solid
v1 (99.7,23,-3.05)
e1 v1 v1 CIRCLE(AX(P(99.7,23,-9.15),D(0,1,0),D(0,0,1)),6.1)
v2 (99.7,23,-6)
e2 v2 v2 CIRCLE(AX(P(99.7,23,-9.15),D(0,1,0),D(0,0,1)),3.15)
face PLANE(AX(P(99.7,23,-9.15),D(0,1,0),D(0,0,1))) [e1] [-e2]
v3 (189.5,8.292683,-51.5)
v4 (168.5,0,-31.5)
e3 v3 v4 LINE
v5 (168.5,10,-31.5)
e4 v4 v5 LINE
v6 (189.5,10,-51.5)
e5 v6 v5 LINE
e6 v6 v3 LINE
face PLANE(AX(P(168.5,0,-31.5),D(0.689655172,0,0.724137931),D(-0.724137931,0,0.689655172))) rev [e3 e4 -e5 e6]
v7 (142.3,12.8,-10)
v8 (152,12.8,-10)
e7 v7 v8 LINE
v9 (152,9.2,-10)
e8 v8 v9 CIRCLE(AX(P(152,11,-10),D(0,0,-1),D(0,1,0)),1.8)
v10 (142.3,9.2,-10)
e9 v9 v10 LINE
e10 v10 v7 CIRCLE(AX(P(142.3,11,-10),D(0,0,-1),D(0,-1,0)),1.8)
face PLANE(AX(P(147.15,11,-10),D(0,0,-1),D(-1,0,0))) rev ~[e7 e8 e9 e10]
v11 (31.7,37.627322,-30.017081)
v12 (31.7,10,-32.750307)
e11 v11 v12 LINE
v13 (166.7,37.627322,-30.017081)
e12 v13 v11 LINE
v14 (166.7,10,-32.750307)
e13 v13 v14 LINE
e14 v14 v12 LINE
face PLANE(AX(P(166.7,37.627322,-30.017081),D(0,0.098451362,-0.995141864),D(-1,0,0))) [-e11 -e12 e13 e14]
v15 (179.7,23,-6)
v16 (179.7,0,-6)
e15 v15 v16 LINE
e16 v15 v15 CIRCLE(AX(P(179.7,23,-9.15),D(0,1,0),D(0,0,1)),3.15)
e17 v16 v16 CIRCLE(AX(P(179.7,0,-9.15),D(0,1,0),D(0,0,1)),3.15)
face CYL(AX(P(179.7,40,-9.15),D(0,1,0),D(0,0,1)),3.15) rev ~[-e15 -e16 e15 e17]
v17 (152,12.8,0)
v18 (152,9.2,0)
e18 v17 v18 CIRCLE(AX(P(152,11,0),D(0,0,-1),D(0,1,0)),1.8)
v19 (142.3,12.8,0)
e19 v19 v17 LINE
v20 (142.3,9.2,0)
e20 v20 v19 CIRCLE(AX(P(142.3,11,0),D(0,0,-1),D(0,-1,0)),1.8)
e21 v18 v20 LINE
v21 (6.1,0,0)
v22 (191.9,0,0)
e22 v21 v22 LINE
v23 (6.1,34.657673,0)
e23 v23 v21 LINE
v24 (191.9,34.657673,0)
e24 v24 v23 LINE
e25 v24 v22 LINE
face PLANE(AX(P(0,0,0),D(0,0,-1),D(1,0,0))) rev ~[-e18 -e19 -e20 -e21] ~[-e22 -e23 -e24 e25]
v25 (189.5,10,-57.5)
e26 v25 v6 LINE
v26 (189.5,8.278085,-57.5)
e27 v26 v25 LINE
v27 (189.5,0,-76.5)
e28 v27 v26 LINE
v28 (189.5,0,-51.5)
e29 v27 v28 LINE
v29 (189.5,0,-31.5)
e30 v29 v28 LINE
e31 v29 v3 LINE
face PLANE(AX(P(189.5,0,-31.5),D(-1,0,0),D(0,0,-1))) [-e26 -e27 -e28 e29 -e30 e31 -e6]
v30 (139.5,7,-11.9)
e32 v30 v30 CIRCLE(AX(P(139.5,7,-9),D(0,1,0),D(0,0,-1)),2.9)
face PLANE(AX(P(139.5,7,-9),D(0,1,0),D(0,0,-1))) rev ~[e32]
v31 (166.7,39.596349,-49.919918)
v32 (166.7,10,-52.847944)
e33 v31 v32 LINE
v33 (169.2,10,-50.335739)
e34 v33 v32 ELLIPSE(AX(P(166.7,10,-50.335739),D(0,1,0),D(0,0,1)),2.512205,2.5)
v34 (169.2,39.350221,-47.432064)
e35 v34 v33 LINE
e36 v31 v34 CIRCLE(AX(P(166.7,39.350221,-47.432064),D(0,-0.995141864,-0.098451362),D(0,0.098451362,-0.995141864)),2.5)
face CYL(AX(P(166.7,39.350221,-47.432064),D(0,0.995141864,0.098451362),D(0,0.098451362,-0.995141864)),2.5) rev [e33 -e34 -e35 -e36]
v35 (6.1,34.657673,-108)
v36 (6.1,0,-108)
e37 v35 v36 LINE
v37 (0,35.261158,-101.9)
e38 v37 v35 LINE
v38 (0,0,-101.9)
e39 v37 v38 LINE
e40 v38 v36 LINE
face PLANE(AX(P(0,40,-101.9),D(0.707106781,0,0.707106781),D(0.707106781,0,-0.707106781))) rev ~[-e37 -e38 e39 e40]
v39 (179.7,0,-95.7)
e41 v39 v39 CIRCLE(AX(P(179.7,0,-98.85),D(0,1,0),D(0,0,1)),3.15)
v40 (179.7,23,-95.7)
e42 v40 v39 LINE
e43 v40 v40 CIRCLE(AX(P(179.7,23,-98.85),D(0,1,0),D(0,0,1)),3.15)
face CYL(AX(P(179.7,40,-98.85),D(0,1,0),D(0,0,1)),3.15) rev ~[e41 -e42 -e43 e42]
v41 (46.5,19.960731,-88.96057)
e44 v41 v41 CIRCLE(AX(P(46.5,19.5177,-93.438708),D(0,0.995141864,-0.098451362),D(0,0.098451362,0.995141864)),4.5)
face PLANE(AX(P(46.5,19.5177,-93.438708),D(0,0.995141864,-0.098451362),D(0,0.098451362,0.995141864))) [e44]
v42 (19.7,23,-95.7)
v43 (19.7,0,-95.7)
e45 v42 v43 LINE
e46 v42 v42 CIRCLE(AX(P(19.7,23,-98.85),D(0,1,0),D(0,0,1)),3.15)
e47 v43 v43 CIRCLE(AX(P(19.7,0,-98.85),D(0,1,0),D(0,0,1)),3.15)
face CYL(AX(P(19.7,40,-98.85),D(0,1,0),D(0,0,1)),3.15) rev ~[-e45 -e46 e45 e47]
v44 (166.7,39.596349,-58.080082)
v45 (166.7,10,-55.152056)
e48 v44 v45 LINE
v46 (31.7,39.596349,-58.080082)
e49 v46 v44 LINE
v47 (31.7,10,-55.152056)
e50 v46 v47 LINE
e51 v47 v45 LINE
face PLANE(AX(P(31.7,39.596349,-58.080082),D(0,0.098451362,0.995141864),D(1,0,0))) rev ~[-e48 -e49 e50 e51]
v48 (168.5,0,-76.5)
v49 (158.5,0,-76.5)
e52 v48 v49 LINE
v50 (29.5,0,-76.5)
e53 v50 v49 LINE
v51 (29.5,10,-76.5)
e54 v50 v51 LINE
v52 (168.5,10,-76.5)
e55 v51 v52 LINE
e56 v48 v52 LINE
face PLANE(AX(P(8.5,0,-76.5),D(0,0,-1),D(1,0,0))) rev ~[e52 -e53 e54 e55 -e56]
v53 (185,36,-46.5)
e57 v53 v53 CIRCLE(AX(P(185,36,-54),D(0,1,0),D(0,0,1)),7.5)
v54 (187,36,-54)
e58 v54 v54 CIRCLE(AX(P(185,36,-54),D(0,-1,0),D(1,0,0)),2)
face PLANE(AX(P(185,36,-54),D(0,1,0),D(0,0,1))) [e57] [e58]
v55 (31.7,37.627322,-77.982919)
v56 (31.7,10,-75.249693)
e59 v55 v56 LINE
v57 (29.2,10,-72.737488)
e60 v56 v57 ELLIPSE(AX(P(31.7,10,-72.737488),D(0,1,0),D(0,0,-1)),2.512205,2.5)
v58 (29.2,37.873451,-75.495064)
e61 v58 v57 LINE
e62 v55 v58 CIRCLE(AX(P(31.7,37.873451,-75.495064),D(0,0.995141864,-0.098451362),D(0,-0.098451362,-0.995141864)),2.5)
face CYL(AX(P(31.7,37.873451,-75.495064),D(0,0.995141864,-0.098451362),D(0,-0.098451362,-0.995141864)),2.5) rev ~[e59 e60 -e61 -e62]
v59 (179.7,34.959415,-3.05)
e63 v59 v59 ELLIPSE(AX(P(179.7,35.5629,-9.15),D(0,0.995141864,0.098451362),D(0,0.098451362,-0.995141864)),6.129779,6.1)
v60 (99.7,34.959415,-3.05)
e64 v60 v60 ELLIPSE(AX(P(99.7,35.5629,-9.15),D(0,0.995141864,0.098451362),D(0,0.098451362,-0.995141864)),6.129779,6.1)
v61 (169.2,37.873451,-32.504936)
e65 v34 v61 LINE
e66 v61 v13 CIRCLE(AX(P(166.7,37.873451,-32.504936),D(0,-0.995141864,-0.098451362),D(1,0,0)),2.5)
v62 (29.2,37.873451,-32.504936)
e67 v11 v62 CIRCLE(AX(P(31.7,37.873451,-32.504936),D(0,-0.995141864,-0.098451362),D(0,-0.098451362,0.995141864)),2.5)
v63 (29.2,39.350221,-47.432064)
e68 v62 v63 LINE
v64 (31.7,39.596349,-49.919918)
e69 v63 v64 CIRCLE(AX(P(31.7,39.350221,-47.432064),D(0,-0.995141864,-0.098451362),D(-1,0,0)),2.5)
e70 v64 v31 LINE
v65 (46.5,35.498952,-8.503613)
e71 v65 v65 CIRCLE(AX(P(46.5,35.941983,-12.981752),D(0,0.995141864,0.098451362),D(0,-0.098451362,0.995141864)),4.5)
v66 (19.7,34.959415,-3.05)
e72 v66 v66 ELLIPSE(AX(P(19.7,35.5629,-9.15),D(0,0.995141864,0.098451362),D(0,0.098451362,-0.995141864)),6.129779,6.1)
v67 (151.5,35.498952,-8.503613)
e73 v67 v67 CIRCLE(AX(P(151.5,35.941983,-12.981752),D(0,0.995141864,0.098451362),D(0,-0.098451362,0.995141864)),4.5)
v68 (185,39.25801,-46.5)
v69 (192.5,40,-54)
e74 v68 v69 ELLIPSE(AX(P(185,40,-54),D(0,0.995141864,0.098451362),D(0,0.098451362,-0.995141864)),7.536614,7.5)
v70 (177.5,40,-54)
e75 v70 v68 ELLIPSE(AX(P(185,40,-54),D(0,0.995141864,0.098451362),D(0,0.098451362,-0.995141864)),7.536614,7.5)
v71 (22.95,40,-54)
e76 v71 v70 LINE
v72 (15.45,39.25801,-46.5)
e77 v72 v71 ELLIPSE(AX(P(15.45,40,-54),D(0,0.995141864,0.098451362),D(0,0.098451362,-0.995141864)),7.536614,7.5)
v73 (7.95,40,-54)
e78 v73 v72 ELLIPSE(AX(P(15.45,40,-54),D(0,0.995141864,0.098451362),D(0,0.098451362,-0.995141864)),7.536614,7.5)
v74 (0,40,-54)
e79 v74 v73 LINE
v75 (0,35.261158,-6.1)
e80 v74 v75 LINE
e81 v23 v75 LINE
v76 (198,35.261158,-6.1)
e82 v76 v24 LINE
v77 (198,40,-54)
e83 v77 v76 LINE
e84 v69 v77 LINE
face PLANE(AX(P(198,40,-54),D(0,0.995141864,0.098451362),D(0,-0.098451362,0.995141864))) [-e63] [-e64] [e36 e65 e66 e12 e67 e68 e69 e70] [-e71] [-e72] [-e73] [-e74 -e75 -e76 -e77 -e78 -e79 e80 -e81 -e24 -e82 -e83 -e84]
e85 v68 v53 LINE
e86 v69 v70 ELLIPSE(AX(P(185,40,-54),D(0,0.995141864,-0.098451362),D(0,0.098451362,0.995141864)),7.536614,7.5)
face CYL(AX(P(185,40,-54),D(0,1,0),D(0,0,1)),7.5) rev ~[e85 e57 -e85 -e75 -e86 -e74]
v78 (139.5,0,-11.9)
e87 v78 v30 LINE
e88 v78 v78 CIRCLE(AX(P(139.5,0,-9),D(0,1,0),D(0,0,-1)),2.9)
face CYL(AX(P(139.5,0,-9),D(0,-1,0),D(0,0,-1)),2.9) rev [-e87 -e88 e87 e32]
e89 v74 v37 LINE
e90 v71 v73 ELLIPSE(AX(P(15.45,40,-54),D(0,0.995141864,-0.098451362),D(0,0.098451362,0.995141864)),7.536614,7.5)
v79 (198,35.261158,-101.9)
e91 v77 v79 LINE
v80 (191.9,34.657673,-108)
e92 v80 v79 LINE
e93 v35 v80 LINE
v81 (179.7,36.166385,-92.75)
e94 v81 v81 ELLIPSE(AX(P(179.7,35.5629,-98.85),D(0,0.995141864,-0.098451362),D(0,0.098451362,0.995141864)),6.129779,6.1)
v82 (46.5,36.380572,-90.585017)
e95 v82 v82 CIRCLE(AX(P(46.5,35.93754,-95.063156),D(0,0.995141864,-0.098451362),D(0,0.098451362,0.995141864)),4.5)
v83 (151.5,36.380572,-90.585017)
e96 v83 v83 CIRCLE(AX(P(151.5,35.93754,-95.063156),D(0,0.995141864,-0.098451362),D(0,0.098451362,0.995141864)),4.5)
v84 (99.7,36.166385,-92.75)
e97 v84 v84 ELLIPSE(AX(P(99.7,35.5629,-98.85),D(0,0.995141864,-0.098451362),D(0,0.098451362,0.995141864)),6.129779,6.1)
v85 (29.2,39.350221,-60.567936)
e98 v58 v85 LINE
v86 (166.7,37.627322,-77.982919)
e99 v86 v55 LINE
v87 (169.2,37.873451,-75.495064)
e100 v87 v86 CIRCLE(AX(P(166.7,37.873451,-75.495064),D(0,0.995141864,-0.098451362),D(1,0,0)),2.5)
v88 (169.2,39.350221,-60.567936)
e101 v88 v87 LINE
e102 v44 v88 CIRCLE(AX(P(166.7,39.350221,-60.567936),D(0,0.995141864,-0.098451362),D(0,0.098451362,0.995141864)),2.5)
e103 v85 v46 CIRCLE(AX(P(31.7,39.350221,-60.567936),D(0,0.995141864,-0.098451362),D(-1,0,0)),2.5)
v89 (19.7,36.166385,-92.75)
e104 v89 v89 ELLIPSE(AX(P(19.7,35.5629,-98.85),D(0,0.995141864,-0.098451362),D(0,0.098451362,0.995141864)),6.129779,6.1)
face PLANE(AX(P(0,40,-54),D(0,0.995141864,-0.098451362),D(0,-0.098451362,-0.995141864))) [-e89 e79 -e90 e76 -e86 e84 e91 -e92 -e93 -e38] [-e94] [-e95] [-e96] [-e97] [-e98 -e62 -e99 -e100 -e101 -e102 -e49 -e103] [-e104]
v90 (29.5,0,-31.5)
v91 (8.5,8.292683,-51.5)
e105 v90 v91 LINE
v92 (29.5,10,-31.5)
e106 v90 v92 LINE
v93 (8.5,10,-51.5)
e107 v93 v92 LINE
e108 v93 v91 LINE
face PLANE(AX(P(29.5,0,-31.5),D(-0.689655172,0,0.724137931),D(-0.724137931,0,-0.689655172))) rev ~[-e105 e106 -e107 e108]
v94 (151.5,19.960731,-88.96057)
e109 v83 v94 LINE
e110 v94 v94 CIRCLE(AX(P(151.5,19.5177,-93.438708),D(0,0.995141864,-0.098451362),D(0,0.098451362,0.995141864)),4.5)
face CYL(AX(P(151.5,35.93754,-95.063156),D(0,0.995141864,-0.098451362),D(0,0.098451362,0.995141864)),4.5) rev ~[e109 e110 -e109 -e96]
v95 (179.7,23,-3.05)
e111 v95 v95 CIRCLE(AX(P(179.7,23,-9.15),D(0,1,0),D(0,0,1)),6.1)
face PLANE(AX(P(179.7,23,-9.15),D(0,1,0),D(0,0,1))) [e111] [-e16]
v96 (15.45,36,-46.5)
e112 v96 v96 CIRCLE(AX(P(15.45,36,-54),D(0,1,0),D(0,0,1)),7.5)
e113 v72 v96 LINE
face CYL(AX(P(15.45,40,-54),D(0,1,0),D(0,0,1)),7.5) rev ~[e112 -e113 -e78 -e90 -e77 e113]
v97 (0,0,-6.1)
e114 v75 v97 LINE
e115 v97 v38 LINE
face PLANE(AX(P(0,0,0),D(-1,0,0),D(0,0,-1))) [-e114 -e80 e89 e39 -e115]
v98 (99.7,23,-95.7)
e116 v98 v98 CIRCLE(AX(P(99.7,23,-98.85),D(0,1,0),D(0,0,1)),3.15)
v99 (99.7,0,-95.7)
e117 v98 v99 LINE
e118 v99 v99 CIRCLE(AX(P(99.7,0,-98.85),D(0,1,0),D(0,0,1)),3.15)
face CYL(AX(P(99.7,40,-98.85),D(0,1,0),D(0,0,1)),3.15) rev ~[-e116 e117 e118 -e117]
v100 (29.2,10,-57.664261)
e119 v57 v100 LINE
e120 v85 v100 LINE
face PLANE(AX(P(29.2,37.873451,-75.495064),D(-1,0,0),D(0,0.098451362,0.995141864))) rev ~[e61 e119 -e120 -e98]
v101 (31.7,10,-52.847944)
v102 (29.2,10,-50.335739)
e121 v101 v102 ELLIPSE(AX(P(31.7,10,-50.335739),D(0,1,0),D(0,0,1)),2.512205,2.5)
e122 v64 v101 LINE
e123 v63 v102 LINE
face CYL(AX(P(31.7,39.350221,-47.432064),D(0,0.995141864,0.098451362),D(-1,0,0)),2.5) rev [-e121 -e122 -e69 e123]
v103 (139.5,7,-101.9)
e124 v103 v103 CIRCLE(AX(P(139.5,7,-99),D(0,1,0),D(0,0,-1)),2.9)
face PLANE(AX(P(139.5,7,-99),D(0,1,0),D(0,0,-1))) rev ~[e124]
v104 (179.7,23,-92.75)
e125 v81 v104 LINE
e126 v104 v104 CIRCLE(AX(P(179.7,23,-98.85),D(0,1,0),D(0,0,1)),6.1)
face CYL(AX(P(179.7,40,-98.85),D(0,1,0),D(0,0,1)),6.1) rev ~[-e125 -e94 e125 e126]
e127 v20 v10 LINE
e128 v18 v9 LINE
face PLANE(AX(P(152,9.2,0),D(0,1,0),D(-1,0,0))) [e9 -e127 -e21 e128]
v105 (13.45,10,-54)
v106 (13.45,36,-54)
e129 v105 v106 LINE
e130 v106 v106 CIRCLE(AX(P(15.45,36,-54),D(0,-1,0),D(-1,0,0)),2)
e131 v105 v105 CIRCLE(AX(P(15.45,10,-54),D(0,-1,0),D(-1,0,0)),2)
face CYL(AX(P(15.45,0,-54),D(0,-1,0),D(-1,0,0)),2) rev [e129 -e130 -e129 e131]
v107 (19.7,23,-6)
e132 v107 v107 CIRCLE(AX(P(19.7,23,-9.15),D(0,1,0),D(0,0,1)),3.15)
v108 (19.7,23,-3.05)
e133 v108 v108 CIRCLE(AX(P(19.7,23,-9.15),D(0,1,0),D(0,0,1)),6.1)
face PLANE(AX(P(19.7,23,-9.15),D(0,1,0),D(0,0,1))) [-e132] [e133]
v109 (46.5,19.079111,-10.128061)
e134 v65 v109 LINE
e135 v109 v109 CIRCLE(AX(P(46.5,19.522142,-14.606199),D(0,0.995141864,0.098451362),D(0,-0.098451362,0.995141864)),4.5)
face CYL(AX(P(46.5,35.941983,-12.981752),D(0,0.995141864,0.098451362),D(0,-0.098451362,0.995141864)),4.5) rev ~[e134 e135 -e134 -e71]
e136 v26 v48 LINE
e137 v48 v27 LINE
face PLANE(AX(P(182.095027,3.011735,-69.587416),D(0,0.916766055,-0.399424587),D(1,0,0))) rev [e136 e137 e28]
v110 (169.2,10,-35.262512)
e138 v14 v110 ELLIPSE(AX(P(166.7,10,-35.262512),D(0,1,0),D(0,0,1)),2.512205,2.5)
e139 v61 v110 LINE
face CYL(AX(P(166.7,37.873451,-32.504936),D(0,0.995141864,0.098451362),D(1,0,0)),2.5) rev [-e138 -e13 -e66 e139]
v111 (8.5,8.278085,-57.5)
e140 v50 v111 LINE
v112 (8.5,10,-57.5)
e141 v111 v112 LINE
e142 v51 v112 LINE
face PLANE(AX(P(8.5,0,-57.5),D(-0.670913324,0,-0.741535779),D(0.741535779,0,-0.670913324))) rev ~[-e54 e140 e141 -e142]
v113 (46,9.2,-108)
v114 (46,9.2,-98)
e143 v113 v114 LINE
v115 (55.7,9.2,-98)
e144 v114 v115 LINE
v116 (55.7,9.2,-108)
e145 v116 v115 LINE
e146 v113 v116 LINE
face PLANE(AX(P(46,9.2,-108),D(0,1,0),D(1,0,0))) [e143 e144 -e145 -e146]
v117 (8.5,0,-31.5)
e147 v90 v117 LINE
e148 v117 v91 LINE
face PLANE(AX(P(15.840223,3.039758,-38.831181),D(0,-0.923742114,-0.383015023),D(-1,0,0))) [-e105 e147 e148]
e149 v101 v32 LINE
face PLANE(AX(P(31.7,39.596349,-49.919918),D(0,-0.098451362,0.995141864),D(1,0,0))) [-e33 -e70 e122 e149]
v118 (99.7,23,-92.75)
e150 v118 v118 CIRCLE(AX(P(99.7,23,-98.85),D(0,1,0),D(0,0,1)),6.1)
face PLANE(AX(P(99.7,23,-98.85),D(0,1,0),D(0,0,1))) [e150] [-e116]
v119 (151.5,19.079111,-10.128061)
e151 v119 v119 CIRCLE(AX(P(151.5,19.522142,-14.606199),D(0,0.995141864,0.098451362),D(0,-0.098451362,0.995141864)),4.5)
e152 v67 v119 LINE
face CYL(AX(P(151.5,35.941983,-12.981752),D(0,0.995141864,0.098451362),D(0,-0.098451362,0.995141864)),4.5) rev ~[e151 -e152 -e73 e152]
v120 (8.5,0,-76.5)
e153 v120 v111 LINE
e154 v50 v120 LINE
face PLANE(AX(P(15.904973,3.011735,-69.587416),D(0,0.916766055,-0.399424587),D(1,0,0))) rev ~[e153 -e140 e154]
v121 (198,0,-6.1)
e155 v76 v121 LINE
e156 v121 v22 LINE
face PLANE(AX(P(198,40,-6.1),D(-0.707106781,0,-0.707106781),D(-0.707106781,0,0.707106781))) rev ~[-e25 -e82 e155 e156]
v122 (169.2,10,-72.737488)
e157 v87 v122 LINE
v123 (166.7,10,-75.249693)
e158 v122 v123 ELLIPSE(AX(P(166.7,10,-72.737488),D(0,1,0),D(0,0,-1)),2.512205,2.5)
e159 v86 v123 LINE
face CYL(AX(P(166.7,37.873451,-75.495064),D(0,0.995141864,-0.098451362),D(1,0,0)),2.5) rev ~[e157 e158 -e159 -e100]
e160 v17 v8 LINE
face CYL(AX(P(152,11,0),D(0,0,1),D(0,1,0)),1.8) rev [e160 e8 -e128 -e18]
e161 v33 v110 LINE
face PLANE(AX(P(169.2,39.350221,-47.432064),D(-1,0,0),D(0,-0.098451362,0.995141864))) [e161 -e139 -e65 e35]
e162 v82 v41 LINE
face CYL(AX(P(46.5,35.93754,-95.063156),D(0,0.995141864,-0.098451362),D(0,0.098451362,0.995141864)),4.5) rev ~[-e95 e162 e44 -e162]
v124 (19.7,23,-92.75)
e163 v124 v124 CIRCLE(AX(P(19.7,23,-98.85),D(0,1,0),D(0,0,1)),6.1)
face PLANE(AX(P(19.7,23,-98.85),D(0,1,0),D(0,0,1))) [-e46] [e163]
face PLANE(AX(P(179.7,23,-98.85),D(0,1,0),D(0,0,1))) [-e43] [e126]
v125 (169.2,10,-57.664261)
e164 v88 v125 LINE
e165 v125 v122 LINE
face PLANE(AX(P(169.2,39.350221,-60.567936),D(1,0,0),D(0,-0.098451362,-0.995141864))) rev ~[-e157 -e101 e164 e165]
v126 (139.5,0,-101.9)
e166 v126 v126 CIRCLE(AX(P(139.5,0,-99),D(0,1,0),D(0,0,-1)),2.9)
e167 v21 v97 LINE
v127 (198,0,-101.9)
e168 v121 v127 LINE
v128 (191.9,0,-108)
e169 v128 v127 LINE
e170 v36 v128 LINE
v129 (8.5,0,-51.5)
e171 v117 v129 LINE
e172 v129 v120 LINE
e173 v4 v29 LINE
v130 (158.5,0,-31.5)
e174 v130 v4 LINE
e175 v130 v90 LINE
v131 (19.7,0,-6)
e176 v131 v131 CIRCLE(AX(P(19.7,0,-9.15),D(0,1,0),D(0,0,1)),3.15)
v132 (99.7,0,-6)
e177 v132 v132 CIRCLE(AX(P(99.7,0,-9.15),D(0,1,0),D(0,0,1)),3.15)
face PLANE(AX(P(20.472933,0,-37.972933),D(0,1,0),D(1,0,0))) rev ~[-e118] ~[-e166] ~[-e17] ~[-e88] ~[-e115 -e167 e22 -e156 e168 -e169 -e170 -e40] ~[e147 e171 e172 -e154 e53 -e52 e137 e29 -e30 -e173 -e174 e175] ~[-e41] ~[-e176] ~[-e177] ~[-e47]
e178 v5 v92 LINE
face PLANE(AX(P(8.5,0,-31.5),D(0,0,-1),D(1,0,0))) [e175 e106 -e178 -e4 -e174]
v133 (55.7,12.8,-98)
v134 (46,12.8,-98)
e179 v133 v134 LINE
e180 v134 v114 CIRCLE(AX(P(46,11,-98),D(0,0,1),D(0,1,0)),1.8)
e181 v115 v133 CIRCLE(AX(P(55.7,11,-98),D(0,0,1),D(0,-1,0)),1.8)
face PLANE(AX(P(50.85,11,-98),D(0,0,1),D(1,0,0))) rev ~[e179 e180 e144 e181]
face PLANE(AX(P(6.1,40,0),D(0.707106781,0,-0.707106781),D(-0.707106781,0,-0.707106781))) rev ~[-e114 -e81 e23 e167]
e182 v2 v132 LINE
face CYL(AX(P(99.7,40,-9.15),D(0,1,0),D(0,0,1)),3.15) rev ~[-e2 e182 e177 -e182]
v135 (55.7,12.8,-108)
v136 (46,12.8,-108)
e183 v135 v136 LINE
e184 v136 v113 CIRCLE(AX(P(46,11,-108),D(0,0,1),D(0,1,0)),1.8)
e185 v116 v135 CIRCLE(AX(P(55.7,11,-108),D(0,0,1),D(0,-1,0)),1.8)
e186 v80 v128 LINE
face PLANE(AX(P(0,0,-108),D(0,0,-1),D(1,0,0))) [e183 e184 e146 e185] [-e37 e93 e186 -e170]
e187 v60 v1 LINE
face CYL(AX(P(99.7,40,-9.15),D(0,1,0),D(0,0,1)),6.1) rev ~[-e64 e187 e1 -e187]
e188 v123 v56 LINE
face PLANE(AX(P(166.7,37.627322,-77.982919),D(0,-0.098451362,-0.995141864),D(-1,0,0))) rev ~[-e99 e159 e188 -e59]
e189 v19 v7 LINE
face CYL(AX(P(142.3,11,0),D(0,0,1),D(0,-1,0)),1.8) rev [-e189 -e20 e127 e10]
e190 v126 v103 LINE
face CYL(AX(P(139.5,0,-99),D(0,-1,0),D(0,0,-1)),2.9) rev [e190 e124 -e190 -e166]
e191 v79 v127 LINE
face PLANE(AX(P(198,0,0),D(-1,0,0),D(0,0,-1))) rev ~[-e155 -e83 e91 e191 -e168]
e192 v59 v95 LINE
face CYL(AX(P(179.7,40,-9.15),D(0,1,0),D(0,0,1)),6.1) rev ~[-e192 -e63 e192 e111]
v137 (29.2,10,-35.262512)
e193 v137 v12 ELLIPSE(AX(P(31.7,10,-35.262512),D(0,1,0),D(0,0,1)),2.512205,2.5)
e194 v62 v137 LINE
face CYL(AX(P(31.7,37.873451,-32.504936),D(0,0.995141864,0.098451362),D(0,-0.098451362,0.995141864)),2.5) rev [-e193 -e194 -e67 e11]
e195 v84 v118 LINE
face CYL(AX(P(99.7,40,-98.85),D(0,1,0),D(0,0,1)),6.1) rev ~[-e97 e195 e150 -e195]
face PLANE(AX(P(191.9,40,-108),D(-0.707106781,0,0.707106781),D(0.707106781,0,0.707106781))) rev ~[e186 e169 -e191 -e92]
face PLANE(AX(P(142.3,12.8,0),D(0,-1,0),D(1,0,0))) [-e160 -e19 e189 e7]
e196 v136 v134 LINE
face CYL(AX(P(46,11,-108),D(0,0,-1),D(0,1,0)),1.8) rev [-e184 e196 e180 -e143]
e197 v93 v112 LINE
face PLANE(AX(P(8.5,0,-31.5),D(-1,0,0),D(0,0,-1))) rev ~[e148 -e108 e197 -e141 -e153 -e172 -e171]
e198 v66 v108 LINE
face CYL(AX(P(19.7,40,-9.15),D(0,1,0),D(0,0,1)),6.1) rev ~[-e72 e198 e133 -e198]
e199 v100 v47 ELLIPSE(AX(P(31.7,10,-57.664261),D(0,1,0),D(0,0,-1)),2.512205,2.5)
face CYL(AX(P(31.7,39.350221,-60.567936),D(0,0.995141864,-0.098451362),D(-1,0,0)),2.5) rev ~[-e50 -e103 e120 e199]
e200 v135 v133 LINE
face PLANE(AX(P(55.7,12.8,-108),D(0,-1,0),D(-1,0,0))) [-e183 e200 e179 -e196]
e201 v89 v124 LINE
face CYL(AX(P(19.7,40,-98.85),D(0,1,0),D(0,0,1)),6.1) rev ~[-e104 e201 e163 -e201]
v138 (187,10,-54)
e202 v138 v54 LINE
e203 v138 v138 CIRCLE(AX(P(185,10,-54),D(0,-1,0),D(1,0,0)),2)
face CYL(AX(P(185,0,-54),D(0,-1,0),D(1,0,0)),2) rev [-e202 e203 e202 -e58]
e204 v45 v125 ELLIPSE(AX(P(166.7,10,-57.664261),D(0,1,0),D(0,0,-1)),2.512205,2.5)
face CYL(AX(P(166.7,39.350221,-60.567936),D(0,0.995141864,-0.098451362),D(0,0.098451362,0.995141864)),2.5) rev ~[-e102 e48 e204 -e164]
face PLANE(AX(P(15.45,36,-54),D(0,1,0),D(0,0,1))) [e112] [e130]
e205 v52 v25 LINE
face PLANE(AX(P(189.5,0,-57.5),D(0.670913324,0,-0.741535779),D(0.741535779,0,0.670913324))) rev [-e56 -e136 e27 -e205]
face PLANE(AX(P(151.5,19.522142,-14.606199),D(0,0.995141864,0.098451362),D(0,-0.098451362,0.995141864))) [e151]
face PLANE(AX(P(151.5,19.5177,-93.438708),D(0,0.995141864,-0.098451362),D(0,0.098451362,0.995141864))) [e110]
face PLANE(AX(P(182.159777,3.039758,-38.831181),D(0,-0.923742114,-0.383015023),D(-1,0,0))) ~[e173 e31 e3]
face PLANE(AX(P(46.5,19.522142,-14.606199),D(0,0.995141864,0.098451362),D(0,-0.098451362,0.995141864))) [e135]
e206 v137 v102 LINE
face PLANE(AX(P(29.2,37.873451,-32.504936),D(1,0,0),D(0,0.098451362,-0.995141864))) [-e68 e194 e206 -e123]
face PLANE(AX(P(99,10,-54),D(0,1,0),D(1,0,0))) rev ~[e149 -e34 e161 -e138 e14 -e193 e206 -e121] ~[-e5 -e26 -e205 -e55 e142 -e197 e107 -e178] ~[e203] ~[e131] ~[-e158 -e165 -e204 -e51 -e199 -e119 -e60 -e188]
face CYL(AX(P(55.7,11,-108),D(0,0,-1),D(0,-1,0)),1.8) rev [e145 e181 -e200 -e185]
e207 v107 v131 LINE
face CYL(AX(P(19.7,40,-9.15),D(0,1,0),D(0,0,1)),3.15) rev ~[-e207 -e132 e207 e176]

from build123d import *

# Parameters (mm, degrees)
SKETCH1_W            = 198
SKETCH1_H            = 108
BOSS_EXTRUDE1_DEPTH  = 40
SKETCH4_W            = 181
SKETCH4_H            = 45
CUT_EXTRUDE2_DEPTH   = 10
CUT_EXTRUDE3_START   = -198
CUT_EXTRUDE3_DEPTH   = 198
BOSS_EXTRUDE11_DEPTH = 10
CUT_EXTRUDE12_DEPTH  = 198
CUT_EXTRUDE28_DEPTH  = 14.5
CUT_EXTRUDE29_DEPTH  = 14.5
CUT_EXTRUDE40_REACH  = 231.059
SKETCH12_R           = 3.15
CUT_EXTRUDE9_DEPTH   = 230.058944379
SKETCH13_R           = 4.5
CUT_EXTRUDE10_DEPTH  = 16.5
SKETCH14_R           = 4.5
CUT_EXTRUDE11_DEPTH  = 16.5
SKETCH41_R           = 2.9
CUT_EXTRUDE21_DEPTH  = 7
CUT_EXTRUDE22_DEPTH  = 10
CUT_EXTRUDE23_DEPTH  = 10
CUT_EXTRUDE35_DEPTH  = 55.4
CUT_EXTRUDE34_DEPTH  = 55.4
CUT_EXTRUDE36_DEPTH  = 55.4
SKETCH90_R           = 6.1
CUT_EXTRUDE38_DEPTH  = 17
SKETCH96_R           = 2
CUT_EXTRUDE39_DEPTH  = 230.058944379
SKETCH98_R           = 7.5
CUT_EXTRUDE41_DEPTH  = 4


with BuildPart() as part:
    # Sketch1 → Boss-Extrude1 (new body)
    with BuildSketch(Plane(origin=(0, 0, 0), x_dir=(1, 0, 0), z_dir=(0, 1, 0))):
        with Locations((99, 54)):
            Rectangle(SKETCH1_W, SKETCH1_H)
    extrude(amount=BOSS_EXTRUDE1_DEPTH)

    # Sketch4 → Cut-Extrude2 (cut)
    with BuildSketch(Plane(origin=(0, 0, 0), x_dir=(1, 0, 0), z_dir=(0, 1, 0))):
        with Locations((99, 54)):
            Rectangle(SKETCH4_W, SKETCH4_H)
    extrude(amount=CUT_EXTRUDE2_DEPTH, mode=Mode.SUBTRACT)

    # Sketch5 → Cut-Extrude3 (cut)
    with BuildSketch(Plane(origin=(198, 0, 0), x_dir=(0, 0, -1), z_dir=(1, 0, 0)).offset(CUT_EXTRUDE3_START)):
        Polygon((54, 40), (108, 34.657672686), (108, 40), align=None)
    extrude(amount=CUT_EXTRUDE3_DEPTH, mode=Mode.SUBTRACT)

    # Sketch53 → Boss-Extrude11 (add)
    with BuildSketch(Plane(origin=(0, 10, 0), x_dir=(-1, 0, 0), z_dir=(0, -1, 0))):
        Polygon((-8.5, 51.5), (-8.5, 31.5), (-39.5, 31.5), align=None)
        Polygon((-8.5, 56.5), (-8.5, 76.5), (-39.5, 76.5), align=None)
        Polygon((-158.5, 76.5), (-189.5, 56.5), (-189.5, 76.5), align=None)
        Polygon((-158.5, 31.5), (-189.5, 51.5), (-189.5, 31.5), align=None)
    extrude(amount=BOSS_EXTRUDE11_DEPTH)

    # Sketch18 → Cut-Extrude12 (cut)
    with BuildSketch(Plane(origin=(198, 0, 0), x_dir=(0, 0, -1), z_dir=(1, 0, 0))):
        Polygon((0, 34.657672686), (0, 40), (54, 40), align=None)
    extrude(amount=-CUT_EXTRUDE12_DEPTH, mode=Mode.SUBTRACT)

    # Izq → Cut-Extrude28 (cut)
    with BuildSketch(Plane(origin=(0, 28.012686094, -12.204810084), x_dir=(1, 0, 0), z_dir=(0, 0.9167660546215652, -0.39942458749256926))):
        Polygon((8.5, 48.862182113), (29.5, 70.132603179), (8.5, 70.132603179), align=None)
    cut_extrude28 = extrude(amount=-CUT_EXTRUDE28_DEPTH, mode=Mode.SUBTRACT)

    # Der → Cut-Extrude29 (cut)
    with BuildSketch(Plane(origin=(0, -11.144923858, -4.62106599), x_dir=(1, 0, 0), z_dir=(0, 0.9237421135716327, 0.38301502270043264))):
        Polygon((8.5, 51.290217599), (29.5, 29.097876578), (8.5, 29.097876578), align=None)
    cut_extrude29 = extrude(amount=-CUT_EXTRUDE29_DEPTH, mode=Mode.SUBTRACT)

    # Cut-Extrude40: up to this face of the body (flat: up to its plane)
    cut_extrude40_end = Plane(part.part.faces().sort_by_distance((99, 10, -54))[0])
    # Sketch97 → Cut-Extrude40 (cut, up to the picked face)
    with BuildSketch(Plane(origin=(0, 0, 0), x_dir=(1, 0, 0), z_dir=(0, 1, 0)), mode=Mode.PRIVATE) as cut_extrude40_sk1:
        Polygon((8.5, 57.5), (29.5, 76.5), (158.5, 76.5), (189.5, 56.5), (189.5, 51.5), (158.5, 31.5), (29.5, 31.5), (8.5, 51.5), align=None)
    cut_extrude40_tool1 = split(extrude(cut_extrude40_sk1.sketch, amount=CUT_EXTRUDE40_REACH, mode=Mode.PRIVATE), bisect_by=cut_extrude40_end, keep=Keep.BOTH, mode=Mode.PRIVATE)
    cut_extrude40 = cut_extrude40_tool1.solids().sort_by(Axis((96.82024, 0, -54.014019), (0, 1, 0)))[0]
    add(cut_extrude40, mode=Mode.SUBTRACT)

    # Mirror2: Cut-Extrude28, Cut-Extrude29, Cut-Extrude40 across plane
    add(cut_extrude28.mirror(Plane(origin=(99, 0, 0), x_dir=(0, 0, 1), z_dir=(1, 0, 0))), mode=Mode.SUBTRACT)
    add(cut_extrude29.mirror(Plane(origin=(99, 0, 0), x_dir=(0, 0, 1), z_dir=(1, 0, 0))), mode=Mode.SUBTRACT)
    add(cut_extrude40.mirror(Plane(origin=(99, 0, 0), x_dir=(0, 0, 1), z_dir=(1, 0, 0))), mode=Mode.SUBTRACT)

    # Sketch12 → Cut-Extrude9 (cut, through all)
    with BuildSketch(Plane(origin=(0, 40, 0), x_dir=(1, 0, 0), z_dir=(0, 1, 0))):
        with Locations(Location((19.7, 98.85, 0), (0, 0, 270))):
            Circle(SKETCH12_R)
        with Locations(Location((99.7, 9.15, 0), (0, 0, 270))):
            Circle(SKETCH12_R)
        with Locations(Location((179.7, 9.15, 0), (0, 0, 270))):
            Circle(SKETCH12_R)
        with Locations(Location((19.7, 9.15, 0), (0, 0, 270))):
            Circle(SKETCH12_R)
        with Locations(Location((99.7, 98.85, 0), (0, 0, 270))):
            Circle(SKETCH12_R)
        with Locations(Location((179.7, 98.85, 0), (0, 0, 270))):
            Circle(SKETCH12_R)
    extrude(amount=-CUT_EXTRUDE9_DEPTH, mode=Mode.SUBTRACT)

    # Sketch13 → Cut-Extrude10 (cut)
    with BuildSketch(Plane(origin=(0, 44.902839065, -4.442327104), x_dir=(1, 0, 0), z_dir=(0, 0.9951418638934392, -0.0984513622388844))):
        with Locations(Location((46.5, 91.063226213, 0), (0, 0, 270))):
            Circle(SKETCH13_R)
        with Locations(Location((151.5, 91.063226213, 0), (0, 0, 270))):
            Circle(SKETCH13_R)
    extrude(amount=-CUT_EXTRUDE10_DEPTH, mode=Mode.SUBTRACT)

    # Sketch14 → Cut-Extrude11 (cut)
    with BuildSketch(Plane(origin=(0, 34.032645471, 6.317746484), x_dir=(1, 0, 0), z_dir=(0, 0.995141863893439, 0.09845136223888487))):
        with Locations(Location((46.5, 19.393715592, 0), (0, 0, 270))):
            Circle(SKETCH14_R)
        with Locations(Location((151.5, 19.393715592, 0), (0, 0, 270))):
            Circle(SKETCH14_R)
    extrude(amount=-CUT_EXTRUDE11_DEPTH, mode=Mode.SUBTRACT)

    # Sketch41 → Cut-Extrude21 (cut)
    with BuildSketch(Plane(origin=(0, 0, 0), x_dir=(1, 0, 0), z_dir=(0, 1, 0))):
        with Locations(Location((139.5, 9, 0), (0, 0, 90))):
            Circle(SKETCH41_R)
        with Locations(Location((139.5, 99, 0), (0, 0, 90))):
            Circle(SKETCH41_R)
    extrude(amount=CUT_EXTRUDE21_DEPTH, mode=Mode.SUBTRACT)

    # Sketch42 → Cut-Extrude22 (cut)
    with BuildSketch(Plane.XY):
        with BuildLine():
            Line((142.3, 12.8), (152, 12.8))
            ThreePointArc((152, 12.8), (153.8, 11), (152, 9.2))
            Line((152, 9.2), (142.3, 9.2))
            ThreePointArc((142.3, 9.2), (140.5, 11), (142.3, 12.8))
        make_face()
    extrude(amount=-CUT_EXTRUDE22_DEPTH, mode=Mode.SUBTRACT)

    # Sketch43 → Cut-Extrude23 (cut)
    with BuildSketch(Plane(origin=(0, 0, -108), x_dir=(-1, 0, 0), z_dir=(0, 0, -1))):
        with BuildLine():
            Line((-55.7, 12.8), (-46, 12.8))
            ThreePointArc((-46, 12.8), (-44.2, 11), (-46, 9.2))
            Line((-46, 9.2), (-55.7, 9.2))
            ThreePointArc((-55.7, 9.2), (-57.5, 11), (-55.7, 12.8))
        make_face()
    extrude(amount=-CUT_EXTRUDE23_DEPTH, mode=Mode.SUBTRACT)

    # Sketch84 → Cut-Extrude35 (cut)
    with BuildSketch(Plane(origin=(0, 44.902839065, -4.442327104), x_dir=(1, 0, 0), z_dir=(0, 0.9951418638934392, -0.0984513622388844))):
        with BuildLine():
            Line((31.7, 53.899606161), (166.7, 53.899606161))
            ThreePointArc((166.7, 53.899606161), (168.467766953, 54.631839208), (169.2, 56.399606161))
            Line((169.2, 56.399606161), (169.2, 71.399606161))
            ThreePointArc((169.2, 71.399606161), (168.467766953, 73.167373114), (166.7, 73.899606161))
            Line((166.7, 73.899606161), (31.7, 73.899606161))
            ThreePointArc((31.7, 73.899606161), (29.932233047, 73.167373114), (29.2, 71.399606161))
            Line((29.2, 71.399606161), (29.2, 56.399606161))
            ThreePointArc((29.2, 56.399606161), (29.932233047, 54.631839208), (31.7, 53.899606161))
        make_face()
    extrude(amount=-CUT_EXTRUDE35_DEPTH, mode=Mode.SUBTRACT)

    # Sketch83 → Cut-Extrude34 (cut)
    with BuildSketch(Plane(origin=(0, 34.321747276, 3.395518666), x_dir=(1, 0, 0), z_dir=(0, 0.9951418638934391, 0.0984513622388849))):
        with BuildLine():
            Line((31.7, 53.57571514), (166.7, 53.57571514))
            ThreePointArc((166.7, 53.57571514), (168.467766953, 52.843482093), (169.2, 51.07571514))
            Line((169.2, 51.07571514), (169.2, 36.07571514))
            ThreePointArc((169.2, 36.07571514), (168.467766953, 34.307948187), (166.7, 33.57571514))
            Line((166.7, 33.57571514), (31.7, 33.57571514))
            ThreePointArc((31.7, 33.57571514), (29.932233047, 34.307948187), (29.2, 36.07571514))
            Line((29.2, 36.07571514), (29.2, 51.07571514))
            ThreePointArc((29.2, 51.07571514), (29.932233047, 52.843482093), (31.7, 53.57571514))
        make_face()
    extrude(amount=-CUT_EXTRUDE34_DEPTH, mode=Mode.SUBTRACT)

    # Sketch85 → Cut-Extrude36 (cut)
    with BuildSketch(Plane(origin=(0, 40, 0), x_dir=(1, 0, 0), z_dir=(0, 1, 0))):
        Polygon((0, 101.9), (6.1, 108), (0, 108), align=None)
        Polygon((0, 0), (6.1, 0), (0, 6.1), align=None)
        Polygon((198, 6.1), (191.9, 0), (198, 0), align=None)
        Polygon((198, 108), (191.9, 108), (198, 101.9), align=None)
    extrude(amount=-CUT_EXTRUDE36_DEPTH, mode=Mode.SUBTRACT)

    # Sketch90 → Cut-Extrude38 (cut)
    with BuildSketch(Plane(origin=(0, 40, 0), x_dir=(1, 0, 0), z_dir=(0, 1, 0))):
        with Locations(Location((19.7, 9.15, 0), (0, 0, 270))):
            Circle(SKETCH90_R)
        with Locations(Location((99.7, 9.15, 0), (0, 0, 270))):
            Circle(SKETCH90_R)
        with Locations(Location((179.7, 9.15, 0), (0, 0, 270))):
            Circle(SKETCH90_R)
        with Locations(Location((99.7, 98.85, 0), (0, 0, 270))):
            Circle(SKETCH90_R)
        with Locations(Location((179.7, 98.85, 0), (0, 0, 270))):
            Circle(SKETCH90_R)
        with Locations(Location((19.7, 98.85, 0), (0, 0, 270))):
            Circle(SKETCH90_R)
    extrude(amount=-CUT_EXTRUDE38_DEPTH, mode=Mode.SUBTRACT)

    # Sketch96 → Cut-Extrude39 (cut, through all)
    with BuildSketch(Plane(origin=(0, 0, 0), x_dir=(1, 0, 0), z_dir=(0, 1, 0))):
        with Locations(Location((15.45, 54, 0), (0, 0, 180))):
            Circle(SKETCH96_R)
        with Locations((185, 54)):
            Circle(SKETCH96_R)
    extrude(amount=CUT_EXTRUDE39_DEPTH, mode=Mode.SUBTRACT)

    # Sketch98 → Cut-Extrude41 (cut)
    with BuildSketch(Plane(origin=(0, 40, 0), x_dir=(1, 0, 0), z_dir=(0, 1, 0))):
        with Locations(Location((185, 54, 0), (0, 0, 270))):
            Circle(SKETCH98_R)
        with Locations(Location((15.45, 54, 0), (0, 0, 270))):
            Circle(SKETCH98_R)
    extrude(amount=-CUT_EXTRUDE41_DEPTH, mode=Mode.SUBTRACT)


solid = part.part
